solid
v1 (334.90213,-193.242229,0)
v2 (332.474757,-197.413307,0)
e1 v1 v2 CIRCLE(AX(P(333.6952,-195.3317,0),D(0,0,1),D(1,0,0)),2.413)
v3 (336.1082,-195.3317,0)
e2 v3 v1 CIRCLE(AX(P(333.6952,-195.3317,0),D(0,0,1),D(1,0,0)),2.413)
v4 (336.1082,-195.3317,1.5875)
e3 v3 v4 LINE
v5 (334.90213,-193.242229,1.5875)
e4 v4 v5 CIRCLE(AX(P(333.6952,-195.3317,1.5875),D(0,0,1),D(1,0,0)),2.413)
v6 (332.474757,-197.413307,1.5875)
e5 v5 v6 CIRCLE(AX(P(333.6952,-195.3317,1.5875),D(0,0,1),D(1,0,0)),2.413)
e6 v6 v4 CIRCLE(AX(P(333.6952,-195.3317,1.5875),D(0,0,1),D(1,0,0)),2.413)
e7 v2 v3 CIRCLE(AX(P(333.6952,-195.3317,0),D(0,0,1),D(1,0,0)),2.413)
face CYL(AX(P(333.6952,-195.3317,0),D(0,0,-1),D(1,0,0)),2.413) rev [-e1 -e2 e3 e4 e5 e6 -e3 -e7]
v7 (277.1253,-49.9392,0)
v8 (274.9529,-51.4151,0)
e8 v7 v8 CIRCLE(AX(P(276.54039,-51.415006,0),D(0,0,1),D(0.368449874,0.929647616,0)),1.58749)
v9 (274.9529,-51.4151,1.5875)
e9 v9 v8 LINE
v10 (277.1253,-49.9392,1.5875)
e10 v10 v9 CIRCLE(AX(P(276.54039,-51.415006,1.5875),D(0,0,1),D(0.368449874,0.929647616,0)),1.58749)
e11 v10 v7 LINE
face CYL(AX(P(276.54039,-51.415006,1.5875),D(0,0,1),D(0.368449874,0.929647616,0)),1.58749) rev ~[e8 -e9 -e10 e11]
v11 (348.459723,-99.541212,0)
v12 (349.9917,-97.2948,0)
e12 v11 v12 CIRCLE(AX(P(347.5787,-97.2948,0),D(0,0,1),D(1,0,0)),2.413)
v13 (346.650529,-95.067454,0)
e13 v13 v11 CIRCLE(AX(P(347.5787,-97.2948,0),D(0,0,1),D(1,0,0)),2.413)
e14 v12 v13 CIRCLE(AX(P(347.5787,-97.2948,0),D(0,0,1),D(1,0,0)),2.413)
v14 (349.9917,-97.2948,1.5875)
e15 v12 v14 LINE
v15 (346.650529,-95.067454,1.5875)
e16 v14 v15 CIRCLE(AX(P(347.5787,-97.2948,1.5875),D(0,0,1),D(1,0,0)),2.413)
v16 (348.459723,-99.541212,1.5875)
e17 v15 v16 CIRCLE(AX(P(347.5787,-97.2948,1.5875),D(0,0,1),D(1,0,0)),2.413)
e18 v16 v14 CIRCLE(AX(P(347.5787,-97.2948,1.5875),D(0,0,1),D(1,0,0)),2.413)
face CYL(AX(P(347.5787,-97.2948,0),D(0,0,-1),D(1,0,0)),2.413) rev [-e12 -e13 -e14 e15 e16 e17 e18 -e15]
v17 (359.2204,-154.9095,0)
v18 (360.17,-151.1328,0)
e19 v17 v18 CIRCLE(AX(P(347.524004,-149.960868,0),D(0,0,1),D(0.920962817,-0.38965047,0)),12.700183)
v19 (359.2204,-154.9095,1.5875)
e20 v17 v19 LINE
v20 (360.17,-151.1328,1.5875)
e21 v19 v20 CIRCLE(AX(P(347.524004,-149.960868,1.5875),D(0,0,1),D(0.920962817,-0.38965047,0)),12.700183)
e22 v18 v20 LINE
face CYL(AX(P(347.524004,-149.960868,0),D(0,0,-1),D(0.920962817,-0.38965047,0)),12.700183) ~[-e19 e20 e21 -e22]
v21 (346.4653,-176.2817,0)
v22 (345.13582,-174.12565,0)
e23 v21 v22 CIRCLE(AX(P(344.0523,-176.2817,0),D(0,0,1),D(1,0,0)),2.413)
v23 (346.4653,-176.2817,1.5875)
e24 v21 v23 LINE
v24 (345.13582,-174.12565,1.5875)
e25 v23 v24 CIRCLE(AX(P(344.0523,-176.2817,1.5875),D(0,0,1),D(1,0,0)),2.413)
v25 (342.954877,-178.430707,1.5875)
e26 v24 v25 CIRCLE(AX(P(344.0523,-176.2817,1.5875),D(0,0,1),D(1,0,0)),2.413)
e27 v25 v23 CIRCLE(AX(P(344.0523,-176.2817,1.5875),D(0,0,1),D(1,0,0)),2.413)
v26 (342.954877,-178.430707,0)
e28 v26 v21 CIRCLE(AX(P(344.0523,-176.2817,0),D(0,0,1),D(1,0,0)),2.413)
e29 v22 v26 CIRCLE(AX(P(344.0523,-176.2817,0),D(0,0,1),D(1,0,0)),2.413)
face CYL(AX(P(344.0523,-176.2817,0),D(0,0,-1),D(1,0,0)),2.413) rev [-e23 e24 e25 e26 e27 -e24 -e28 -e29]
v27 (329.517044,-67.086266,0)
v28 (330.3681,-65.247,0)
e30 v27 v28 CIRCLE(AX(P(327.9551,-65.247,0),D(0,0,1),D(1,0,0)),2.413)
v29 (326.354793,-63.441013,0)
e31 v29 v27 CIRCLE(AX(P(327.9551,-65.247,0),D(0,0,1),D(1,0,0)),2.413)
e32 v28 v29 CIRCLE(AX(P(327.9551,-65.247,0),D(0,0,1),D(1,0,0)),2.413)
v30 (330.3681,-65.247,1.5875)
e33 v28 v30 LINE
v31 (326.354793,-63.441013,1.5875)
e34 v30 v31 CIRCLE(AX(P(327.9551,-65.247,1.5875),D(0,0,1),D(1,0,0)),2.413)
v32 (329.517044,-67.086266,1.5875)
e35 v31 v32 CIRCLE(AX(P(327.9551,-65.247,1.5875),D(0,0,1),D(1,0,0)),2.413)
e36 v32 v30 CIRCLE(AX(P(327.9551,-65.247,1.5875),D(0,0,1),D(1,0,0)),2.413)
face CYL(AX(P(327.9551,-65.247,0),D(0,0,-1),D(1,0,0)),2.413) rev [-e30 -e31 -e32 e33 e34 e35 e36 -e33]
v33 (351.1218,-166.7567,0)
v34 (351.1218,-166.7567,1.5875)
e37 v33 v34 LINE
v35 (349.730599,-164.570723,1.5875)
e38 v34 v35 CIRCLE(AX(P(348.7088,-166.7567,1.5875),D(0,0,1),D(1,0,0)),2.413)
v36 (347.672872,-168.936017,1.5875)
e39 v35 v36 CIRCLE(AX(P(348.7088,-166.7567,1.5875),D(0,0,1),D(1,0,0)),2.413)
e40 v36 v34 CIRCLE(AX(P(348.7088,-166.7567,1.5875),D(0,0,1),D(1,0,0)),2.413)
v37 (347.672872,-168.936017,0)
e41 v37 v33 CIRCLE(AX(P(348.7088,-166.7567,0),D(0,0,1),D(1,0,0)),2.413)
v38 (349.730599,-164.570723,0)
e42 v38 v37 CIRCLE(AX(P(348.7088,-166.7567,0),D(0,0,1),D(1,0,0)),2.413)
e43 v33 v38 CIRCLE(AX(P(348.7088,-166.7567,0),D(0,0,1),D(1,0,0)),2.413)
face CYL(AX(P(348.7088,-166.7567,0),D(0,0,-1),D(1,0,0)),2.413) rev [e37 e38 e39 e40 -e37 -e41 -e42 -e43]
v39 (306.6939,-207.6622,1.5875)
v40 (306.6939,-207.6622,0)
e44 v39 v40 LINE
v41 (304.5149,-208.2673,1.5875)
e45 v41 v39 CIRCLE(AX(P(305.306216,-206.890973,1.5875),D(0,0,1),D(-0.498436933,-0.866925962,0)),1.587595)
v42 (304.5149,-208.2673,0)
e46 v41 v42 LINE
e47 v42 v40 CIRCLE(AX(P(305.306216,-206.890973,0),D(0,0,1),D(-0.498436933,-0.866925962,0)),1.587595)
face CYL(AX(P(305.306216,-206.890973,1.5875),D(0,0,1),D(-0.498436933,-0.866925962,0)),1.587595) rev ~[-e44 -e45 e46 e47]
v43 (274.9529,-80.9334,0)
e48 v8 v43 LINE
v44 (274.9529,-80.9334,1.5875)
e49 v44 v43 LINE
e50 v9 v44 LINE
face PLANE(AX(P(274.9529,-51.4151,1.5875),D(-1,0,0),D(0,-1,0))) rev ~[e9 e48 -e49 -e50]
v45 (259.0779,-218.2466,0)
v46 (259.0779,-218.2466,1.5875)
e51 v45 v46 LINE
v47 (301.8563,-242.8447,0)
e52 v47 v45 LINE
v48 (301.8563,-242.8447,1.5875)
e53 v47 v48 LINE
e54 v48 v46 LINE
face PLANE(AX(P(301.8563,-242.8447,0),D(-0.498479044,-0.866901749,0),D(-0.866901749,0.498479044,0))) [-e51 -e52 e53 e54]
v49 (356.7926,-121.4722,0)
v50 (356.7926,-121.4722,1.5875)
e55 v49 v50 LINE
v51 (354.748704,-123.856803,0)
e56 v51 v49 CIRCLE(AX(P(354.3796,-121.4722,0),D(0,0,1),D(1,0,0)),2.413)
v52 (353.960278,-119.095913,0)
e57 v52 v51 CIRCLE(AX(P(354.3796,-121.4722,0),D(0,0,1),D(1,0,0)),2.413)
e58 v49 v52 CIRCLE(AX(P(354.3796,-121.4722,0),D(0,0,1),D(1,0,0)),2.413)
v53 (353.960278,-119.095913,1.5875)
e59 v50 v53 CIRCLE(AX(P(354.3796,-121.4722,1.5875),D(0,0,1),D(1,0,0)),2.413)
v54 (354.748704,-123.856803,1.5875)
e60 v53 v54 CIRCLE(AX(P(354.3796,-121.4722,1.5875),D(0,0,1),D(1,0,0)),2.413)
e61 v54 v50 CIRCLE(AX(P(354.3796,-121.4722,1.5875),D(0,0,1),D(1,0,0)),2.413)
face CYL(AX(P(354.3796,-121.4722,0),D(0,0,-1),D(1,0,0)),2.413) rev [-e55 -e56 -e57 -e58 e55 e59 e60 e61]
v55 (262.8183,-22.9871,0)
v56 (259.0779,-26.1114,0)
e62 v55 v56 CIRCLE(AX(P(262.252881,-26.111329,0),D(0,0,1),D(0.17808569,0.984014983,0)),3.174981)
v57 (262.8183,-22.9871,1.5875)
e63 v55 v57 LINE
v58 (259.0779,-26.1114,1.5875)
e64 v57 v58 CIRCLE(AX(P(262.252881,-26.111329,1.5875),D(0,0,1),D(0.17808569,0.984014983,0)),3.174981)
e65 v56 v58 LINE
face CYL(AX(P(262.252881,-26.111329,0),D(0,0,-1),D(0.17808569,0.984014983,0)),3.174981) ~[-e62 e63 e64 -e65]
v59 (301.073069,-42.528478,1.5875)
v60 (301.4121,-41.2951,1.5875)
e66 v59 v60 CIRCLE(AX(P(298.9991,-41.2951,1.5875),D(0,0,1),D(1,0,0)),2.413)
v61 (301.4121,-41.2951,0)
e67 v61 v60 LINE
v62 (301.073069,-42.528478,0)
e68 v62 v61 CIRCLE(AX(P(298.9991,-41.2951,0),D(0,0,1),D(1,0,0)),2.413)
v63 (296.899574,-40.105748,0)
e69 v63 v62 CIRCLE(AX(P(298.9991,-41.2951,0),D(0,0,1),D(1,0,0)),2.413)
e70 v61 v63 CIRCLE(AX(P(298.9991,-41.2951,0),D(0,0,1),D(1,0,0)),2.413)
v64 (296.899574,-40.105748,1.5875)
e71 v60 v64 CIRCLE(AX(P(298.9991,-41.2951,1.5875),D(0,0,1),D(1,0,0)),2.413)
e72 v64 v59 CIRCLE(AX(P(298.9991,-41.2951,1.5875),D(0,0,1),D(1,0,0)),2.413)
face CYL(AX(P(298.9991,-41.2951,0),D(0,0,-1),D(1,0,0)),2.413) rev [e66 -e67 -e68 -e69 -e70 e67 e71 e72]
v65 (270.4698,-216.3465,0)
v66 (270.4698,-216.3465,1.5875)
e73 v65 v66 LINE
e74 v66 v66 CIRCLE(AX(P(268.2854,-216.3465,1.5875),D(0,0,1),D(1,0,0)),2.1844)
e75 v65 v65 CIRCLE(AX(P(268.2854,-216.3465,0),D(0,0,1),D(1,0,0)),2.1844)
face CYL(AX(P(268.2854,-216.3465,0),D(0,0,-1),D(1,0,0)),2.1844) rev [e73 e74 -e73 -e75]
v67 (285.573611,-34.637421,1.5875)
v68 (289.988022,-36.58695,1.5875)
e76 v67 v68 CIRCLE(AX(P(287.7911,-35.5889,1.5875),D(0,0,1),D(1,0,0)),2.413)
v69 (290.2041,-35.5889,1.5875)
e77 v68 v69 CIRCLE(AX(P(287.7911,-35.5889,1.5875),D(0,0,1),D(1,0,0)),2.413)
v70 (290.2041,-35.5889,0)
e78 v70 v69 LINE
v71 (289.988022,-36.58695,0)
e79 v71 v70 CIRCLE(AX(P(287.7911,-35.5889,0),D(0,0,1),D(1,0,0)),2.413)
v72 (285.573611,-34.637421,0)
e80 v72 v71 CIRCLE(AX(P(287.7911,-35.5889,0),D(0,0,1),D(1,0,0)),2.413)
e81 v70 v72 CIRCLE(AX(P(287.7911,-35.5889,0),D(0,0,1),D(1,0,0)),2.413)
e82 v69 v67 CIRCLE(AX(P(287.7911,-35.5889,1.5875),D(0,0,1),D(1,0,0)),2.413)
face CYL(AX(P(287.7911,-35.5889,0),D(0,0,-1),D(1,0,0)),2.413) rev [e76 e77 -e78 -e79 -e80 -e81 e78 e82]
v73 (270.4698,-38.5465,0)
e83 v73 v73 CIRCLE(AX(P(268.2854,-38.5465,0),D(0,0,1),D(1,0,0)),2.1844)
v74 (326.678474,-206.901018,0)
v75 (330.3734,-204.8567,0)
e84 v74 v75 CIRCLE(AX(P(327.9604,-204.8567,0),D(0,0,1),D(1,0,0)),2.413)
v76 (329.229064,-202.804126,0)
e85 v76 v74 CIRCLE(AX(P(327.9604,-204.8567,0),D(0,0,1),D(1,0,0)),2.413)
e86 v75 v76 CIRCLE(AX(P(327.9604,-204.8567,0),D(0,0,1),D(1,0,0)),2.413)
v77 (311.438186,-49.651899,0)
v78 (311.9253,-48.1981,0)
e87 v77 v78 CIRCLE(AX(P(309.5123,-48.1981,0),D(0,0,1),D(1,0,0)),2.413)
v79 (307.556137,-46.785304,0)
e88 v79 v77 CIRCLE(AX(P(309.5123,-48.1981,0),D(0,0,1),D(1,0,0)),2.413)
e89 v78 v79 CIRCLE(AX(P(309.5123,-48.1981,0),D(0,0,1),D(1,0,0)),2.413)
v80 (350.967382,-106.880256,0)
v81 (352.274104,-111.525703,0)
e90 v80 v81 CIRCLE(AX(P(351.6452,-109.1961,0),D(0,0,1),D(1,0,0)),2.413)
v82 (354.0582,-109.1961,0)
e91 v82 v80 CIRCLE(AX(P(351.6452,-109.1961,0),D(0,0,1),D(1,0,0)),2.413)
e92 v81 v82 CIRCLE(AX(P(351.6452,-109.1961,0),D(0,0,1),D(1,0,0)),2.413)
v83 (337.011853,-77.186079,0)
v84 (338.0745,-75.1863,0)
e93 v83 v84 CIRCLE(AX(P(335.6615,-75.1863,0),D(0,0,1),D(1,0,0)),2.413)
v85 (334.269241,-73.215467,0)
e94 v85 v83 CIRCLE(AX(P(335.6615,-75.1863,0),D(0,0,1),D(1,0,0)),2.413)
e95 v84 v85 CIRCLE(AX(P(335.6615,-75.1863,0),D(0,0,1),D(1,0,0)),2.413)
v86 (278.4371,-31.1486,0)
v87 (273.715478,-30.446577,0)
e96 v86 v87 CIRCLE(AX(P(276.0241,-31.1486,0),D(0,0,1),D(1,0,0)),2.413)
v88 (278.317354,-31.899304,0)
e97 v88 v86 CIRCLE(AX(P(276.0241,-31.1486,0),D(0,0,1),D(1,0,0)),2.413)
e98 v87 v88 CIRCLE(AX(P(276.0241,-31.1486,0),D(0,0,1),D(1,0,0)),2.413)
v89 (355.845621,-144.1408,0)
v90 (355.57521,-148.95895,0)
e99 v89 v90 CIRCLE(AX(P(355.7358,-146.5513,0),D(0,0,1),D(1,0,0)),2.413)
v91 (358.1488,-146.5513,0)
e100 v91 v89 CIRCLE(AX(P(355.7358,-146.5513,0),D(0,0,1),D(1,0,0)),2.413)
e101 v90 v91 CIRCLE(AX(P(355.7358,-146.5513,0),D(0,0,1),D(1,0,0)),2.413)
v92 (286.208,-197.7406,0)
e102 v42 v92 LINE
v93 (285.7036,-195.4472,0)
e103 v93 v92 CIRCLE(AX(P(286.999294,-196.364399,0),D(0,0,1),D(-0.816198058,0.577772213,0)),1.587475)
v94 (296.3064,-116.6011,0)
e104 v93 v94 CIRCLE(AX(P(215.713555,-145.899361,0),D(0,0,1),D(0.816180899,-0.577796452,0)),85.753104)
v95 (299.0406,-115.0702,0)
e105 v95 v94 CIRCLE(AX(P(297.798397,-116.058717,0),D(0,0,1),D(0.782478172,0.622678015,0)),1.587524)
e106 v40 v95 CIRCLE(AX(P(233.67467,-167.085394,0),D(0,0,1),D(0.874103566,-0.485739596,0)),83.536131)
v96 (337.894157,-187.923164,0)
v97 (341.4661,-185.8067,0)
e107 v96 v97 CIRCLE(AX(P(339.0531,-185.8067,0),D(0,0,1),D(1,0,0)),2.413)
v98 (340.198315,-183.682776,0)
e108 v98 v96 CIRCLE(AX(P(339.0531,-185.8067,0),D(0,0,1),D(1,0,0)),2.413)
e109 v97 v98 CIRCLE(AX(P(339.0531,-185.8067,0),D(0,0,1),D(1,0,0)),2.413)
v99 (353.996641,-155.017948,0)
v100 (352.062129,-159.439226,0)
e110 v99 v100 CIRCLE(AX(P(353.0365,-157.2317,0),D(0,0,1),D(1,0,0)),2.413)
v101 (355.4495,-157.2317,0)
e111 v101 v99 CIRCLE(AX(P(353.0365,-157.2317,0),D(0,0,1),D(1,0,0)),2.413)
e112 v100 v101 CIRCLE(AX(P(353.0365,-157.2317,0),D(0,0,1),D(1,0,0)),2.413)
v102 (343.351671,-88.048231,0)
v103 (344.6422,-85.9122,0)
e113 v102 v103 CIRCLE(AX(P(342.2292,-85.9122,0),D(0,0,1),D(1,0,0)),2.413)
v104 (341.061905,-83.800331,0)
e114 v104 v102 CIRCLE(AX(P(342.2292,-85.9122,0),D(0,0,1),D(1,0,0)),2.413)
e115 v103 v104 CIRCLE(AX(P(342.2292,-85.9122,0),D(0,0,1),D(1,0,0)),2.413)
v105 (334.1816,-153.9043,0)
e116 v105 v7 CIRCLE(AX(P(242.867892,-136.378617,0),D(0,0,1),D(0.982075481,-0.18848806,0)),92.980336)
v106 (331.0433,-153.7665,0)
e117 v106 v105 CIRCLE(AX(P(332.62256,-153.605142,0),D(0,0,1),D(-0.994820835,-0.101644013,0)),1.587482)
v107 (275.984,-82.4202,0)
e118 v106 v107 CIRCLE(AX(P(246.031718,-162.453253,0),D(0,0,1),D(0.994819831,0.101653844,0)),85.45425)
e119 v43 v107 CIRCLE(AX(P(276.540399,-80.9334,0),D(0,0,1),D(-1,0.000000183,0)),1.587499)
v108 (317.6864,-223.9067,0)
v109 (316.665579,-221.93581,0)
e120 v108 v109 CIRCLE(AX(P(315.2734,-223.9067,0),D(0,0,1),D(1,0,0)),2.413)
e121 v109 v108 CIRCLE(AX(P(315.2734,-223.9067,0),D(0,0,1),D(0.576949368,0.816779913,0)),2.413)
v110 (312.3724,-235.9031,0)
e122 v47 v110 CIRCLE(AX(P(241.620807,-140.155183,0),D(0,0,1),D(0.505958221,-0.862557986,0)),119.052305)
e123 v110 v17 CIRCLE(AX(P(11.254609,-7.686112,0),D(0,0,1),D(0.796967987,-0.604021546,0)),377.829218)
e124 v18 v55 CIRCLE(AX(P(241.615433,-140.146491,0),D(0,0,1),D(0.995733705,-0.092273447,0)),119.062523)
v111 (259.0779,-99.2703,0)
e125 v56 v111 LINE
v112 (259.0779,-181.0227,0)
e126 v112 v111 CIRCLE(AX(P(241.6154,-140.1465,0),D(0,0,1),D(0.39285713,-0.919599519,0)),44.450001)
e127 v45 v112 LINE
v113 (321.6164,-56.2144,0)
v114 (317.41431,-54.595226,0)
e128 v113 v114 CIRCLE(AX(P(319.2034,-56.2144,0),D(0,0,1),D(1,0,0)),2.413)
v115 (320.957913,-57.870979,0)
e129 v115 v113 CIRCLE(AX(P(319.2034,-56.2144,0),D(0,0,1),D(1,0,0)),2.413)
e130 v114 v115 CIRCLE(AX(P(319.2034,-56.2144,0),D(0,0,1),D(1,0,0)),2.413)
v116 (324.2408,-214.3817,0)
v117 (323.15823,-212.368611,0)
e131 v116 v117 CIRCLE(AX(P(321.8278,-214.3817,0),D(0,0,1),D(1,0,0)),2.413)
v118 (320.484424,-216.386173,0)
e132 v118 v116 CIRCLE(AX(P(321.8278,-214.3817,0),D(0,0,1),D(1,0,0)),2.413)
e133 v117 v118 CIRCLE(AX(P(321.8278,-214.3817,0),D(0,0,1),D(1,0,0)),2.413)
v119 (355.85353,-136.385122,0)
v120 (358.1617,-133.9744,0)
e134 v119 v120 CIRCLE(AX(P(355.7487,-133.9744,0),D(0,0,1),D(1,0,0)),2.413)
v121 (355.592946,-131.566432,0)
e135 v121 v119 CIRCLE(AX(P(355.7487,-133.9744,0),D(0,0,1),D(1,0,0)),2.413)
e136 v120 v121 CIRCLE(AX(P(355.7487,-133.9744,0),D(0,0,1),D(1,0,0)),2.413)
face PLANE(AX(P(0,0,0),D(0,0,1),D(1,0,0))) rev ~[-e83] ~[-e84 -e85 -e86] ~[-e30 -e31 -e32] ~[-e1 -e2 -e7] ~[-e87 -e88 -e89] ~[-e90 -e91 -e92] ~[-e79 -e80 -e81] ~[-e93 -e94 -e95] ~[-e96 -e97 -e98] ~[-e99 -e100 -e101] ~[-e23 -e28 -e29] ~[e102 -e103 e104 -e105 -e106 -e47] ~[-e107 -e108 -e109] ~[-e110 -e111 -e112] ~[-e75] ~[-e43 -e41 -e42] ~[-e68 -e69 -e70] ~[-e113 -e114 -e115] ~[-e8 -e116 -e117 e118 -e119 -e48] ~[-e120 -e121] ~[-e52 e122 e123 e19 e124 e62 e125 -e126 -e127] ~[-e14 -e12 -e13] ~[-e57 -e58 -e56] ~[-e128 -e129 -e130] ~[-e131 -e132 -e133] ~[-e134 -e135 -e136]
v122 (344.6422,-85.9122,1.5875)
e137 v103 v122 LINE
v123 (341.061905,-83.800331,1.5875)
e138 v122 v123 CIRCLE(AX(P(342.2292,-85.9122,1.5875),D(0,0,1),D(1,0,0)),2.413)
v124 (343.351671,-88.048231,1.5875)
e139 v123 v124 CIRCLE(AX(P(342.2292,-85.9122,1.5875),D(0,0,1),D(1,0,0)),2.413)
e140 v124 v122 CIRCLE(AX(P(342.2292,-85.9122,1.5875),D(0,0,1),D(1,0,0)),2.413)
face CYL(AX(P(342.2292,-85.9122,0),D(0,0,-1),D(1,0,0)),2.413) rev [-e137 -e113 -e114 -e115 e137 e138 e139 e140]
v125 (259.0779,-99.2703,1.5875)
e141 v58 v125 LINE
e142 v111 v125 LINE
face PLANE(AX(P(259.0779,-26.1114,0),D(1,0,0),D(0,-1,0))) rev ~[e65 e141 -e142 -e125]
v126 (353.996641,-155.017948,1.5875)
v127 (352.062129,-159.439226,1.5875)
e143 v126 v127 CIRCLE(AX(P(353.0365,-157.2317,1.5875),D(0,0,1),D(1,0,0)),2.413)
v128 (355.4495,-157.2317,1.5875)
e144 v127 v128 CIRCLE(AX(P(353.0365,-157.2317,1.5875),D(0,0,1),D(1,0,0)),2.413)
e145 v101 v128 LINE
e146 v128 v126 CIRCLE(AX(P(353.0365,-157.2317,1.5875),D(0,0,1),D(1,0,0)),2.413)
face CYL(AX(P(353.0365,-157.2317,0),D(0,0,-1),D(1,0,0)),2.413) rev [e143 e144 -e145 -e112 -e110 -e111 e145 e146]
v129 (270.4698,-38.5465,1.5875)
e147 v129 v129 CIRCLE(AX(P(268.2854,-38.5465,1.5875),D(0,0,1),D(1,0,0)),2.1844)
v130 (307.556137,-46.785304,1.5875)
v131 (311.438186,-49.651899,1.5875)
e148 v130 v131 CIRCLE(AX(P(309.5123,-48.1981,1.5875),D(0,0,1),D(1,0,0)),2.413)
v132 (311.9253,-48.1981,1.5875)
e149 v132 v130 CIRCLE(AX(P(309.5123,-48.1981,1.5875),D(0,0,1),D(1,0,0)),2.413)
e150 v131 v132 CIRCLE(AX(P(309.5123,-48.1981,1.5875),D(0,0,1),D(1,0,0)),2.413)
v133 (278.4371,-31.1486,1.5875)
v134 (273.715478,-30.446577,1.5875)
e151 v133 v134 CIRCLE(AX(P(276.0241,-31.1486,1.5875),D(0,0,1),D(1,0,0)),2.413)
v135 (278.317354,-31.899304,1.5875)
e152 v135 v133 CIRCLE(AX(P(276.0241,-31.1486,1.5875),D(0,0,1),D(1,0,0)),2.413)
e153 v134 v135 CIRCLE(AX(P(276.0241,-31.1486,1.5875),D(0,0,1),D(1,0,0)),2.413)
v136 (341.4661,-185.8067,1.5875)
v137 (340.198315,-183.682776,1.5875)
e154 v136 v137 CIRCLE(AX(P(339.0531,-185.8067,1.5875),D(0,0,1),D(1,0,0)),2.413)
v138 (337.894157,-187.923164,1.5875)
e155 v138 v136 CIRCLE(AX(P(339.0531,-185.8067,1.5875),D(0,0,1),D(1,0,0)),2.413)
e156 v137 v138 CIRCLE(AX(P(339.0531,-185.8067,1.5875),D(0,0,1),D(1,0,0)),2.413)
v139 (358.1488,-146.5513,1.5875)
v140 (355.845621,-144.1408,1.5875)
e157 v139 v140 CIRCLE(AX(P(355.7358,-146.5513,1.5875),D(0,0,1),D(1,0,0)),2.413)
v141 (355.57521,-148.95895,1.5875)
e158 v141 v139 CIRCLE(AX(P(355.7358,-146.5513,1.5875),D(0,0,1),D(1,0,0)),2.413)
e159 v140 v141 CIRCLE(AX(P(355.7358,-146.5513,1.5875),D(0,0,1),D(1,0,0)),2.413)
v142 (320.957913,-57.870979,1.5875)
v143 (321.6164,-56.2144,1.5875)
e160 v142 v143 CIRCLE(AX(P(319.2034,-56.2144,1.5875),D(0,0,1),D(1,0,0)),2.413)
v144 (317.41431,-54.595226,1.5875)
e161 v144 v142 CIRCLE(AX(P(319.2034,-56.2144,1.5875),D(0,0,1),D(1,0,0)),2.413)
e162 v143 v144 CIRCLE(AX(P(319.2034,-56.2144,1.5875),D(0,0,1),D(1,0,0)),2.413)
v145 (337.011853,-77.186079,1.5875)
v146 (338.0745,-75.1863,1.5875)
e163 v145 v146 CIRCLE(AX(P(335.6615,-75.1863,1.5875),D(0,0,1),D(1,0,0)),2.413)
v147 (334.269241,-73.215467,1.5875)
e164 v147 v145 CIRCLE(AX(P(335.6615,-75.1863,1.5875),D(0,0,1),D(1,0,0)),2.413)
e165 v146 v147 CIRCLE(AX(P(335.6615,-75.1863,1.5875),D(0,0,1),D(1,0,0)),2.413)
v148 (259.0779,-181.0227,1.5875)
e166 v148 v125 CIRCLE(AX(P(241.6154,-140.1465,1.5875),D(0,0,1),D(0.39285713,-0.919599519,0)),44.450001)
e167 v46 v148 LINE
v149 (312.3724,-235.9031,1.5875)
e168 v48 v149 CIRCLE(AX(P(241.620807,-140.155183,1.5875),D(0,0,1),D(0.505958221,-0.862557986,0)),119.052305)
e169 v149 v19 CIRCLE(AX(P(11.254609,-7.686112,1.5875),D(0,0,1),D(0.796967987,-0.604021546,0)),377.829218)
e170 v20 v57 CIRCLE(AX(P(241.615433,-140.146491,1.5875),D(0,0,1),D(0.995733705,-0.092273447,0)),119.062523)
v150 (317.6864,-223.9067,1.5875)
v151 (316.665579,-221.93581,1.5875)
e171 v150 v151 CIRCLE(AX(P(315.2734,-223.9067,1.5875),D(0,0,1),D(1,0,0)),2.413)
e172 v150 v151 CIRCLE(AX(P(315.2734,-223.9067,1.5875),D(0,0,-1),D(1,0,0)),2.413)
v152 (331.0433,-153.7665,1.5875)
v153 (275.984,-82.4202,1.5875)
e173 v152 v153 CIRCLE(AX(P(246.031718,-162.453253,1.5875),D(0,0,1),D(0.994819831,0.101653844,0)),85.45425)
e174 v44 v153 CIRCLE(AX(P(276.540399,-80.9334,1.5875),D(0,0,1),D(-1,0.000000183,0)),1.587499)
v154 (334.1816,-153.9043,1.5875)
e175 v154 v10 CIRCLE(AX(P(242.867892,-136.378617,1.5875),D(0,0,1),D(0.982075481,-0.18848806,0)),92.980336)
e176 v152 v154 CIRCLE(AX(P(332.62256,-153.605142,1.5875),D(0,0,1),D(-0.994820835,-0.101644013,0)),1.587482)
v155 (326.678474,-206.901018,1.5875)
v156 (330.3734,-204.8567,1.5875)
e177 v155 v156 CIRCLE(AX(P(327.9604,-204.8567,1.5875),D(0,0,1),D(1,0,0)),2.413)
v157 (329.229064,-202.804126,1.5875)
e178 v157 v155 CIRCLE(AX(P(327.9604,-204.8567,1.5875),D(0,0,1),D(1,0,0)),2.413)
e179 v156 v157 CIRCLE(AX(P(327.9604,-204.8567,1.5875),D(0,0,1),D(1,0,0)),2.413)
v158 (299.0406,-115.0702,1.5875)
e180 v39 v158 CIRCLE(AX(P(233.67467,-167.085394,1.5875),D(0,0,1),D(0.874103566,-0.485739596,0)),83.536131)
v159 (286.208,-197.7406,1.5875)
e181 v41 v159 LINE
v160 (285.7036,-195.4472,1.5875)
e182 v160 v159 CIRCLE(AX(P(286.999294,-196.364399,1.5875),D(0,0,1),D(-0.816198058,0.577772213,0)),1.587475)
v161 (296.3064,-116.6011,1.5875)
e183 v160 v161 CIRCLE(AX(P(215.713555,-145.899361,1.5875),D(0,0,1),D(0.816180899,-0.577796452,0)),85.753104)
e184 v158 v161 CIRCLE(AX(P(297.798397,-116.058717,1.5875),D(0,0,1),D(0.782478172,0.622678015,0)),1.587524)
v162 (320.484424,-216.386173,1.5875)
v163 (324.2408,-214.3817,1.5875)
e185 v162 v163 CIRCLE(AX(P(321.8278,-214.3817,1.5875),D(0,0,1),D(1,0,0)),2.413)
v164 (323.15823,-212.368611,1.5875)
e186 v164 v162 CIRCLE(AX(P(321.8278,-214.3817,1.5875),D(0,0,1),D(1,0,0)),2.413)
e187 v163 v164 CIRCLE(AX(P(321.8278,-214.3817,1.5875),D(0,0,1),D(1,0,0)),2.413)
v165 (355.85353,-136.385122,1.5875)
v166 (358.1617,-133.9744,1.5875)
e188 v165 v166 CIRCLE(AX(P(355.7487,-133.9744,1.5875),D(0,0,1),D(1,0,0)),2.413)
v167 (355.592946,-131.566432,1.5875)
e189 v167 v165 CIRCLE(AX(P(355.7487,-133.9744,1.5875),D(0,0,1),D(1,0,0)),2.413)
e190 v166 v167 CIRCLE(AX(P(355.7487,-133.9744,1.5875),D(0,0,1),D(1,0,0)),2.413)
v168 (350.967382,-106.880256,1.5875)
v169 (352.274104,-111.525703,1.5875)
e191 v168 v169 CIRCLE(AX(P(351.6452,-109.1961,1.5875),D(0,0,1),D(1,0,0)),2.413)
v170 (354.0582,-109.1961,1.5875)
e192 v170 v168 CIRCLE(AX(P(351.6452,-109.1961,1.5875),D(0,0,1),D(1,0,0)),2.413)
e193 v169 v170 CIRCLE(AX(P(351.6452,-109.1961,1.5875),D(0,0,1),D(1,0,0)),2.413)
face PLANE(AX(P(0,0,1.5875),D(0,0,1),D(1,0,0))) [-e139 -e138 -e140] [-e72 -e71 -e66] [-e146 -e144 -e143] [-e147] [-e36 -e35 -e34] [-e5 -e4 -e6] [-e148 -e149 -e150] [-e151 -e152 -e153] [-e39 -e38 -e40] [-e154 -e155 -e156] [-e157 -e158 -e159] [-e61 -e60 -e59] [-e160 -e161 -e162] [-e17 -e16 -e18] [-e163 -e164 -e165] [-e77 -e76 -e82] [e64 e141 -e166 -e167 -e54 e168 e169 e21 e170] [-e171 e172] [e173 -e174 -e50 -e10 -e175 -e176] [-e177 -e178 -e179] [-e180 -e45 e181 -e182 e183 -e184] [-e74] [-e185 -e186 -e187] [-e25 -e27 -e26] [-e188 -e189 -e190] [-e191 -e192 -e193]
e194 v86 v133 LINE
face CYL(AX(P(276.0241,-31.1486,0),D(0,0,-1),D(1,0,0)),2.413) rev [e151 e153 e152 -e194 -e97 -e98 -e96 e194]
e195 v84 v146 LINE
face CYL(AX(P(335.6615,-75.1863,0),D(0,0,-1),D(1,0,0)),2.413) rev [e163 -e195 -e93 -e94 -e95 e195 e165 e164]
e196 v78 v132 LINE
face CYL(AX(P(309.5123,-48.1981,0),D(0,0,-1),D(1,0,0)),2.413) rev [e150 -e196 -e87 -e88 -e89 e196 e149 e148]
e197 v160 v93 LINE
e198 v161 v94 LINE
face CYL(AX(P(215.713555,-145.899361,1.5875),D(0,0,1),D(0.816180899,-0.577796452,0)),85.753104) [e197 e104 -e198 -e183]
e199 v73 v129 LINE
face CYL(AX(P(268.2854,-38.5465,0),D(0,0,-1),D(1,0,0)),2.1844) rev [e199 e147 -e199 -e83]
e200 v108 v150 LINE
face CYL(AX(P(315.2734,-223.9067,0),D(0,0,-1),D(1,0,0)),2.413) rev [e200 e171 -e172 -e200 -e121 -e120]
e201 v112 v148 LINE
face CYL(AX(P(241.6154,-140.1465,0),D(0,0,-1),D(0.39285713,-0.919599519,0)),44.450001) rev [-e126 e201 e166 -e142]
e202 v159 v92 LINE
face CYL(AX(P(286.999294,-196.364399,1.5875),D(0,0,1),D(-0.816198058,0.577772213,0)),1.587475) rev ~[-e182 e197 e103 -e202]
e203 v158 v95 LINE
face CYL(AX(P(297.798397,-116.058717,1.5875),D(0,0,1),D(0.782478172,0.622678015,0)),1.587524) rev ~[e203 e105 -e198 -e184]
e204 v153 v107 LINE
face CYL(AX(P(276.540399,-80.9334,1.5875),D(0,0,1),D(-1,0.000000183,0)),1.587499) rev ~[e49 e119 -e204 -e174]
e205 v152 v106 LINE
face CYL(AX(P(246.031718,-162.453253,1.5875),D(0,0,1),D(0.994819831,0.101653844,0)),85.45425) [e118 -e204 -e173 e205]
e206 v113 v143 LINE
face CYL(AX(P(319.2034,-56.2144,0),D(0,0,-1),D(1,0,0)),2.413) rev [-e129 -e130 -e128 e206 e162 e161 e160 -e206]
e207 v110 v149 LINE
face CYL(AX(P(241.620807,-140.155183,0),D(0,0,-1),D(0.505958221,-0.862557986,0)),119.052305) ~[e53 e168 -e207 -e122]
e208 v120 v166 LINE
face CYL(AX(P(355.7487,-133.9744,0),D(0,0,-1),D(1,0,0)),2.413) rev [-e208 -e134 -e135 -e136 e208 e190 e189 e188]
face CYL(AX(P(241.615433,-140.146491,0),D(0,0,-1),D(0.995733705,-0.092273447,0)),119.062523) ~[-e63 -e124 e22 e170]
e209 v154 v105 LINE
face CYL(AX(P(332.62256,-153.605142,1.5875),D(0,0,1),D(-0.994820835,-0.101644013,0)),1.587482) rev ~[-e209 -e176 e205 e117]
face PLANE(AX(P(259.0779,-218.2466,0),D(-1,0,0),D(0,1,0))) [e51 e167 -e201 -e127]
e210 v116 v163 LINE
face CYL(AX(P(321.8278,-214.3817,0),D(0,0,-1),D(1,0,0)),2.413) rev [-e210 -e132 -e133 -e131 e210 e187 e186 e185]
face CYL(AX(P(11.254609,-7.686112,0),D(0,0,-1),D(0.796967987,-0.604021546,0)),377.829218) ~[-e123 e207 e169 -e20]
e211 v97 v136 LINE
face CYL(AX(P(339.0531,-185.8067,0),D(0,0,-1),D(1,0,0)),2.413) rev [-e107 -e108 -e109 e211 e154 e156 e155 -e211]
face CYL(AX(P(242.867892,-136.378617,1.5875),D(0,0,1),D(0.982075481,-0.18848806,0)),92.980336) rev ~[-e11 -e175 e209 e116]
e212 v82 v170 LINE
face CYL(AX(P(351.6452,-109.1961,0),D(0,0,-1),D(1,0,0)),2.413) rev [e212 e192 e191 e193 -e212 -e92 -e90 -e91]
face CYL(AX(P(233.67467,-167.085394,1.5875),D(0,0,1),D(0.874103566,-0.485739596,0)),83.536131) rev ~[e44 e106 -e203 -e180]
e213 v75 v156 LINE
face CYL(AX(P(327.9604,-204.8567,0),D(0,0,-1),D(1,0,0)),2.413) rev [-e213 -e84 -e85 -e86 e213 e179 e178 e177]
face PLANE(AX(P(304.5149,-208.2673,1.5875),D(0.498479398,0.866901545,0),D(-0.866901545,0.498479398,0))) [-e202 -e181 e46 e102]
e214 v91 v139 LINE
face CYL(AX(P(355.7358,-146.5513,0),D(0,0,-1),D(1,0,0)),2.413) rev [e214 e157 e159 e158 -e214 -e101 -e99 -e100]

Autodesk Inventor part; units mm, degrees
ref_plane "YZ Plane" through (0, 0, 0) normal (1, 0, 0) x (0, 1, 0)
ref_plane "XZ Plane" through (0, 0, 0) normal (0, 1, 0) x (-1, 0, 0)
ref_plane "XY Plane" through (0, 0, 0) normal (0, 0, 1) x (1, 0, 0)
sketch "Sketch1" plane through (0, 0, 0) normal (0, 0, 1) x (1, 0, 0)
  circle A0 centre (241.6154, -140.1465) radius 2.4638
  arc A1 (259.0779, -181.0227) -> (259.0779, -99.2703) centre (241.6154, -140.1465) ccw
  line L0 (259.0779, -218.2466) -> (259.0779, -181.0227)
  arc A2 (312.3724, -235.9031) -> (359.2204, -154.9095) centre (11.2573, -7.6879) ccw
  arc A3 (359.2204, -154.9095) -> (360.17, -151.1328) centre (347.5241, -149.9609) ccw
  arc A4 (360.17, -151.1328) -> (262.8183, -22.9871) centre (241.6154, -140.1465) ccw
  arc A5 (301.8563, -242.8447) -> (312.3724, -235.9031) centre (241.6154, -140.1465) ccw
  arc A6 (262.8183, -22.9871) -> (259.0779, -26.1114) centre (262.2529, -26.1114) ccw
  line L1 (259.0779, -26.1114) -> (259.0779, -99.2703)
  line L2 (259.0779, -181.0227) -> (259.0779, -218.2466)
  circle A7 centre (268.2854, -38.5465) radius 2.1844
  circle A8 centre (268.2854, -216.3465) radius 2.1844
  arc A9 (308.9934, -232.4758) -> (354.8343, -153.0538) centre (11.2573, -7.6879) ccw
  arc A10 (354.8343, -153.0538) -> (355.4278, -150.6933) centre (347.5241, -149.9609) ccw
  arc A11 (355.4278, -150.6933) -> (263.8404, -28.0281) centre (241.6154, -140.1465) ccw
  circle A12 centre (263.8404, -28.0281) radius 2.413
  circle A13 centre (276.0241, -31.1486) radius 2.413
  circle A14 centre (287.7911, -35.5889) radius 2.413
  circle A15 centre (298.9991, -41.2951) radius 2.413
  circle A16 centre (309.5123, -48.1981) radius 2.413
  circle A17 centre (319.2034, -56.2144) radius 2.413
  circle A18 centre (327.9551, -65.247) radius 2.413
  circle A19 centre (335.6615, -75.1863) radius 2.413
  circle A20 centre (342.2292, -85.9122) radius 2.413
  circle A21 centre (347.5787, -97.2948) radius 2.413
  circle A22 centre (351.6452, -109.1961) radius 2.413
  circle A23 centre (354.3796, -121.4722) radius 2.413
  circle A24 centre (355.7487, -133.9744) radius 2.413
  circle A25 centre (355.7358, -146.5513) radius 2.413
  circle A26 centre (353.0365, -157.2317) radius 2.413
  circle A27 centre (348.7088, -166.7567) radius 2.413
  circle A28 centre (344.0523, -176.2817) radius 2.413
  circle A29 centre (339.0531, -185.8067) radius 2.413
  circle A30 centre (333.6952, -195.3317) radius 2.413
  circle A31 centre (327.9604, -204.8567) radius 2.413
  circle A32 centre (321.8278, -214.3817) radius 2.413
  circle A33 centre (315.2734, -223.9067) radius 2.413
  line L3 (301.8563, -242.8447) -> (259.0779, -218.2466)
  point P0 (259.0779, -22.3716)
  point P1 (295.3179, -246.41)
  dimension "d4" = 88.9
  dimension "d5" = 12.7
  dimension "d7" = 4.3688
  dimension "d8" = 4.7625
  dimension "d9" = 4.826
  dimension "d12" = 82
  dimension "d14" = 4.826
  dimension "d21" = 4.826
  dimension "d22" = 4.826
  dimension "d23" = 4.826
  dimension "d24" = 4.826
  dimension "d25" = 4.826
  dimension "d26" = 4.826
  dimension "d27" = 4.826
  dimension "d28" = 9.525
  dimension "d29" = 9.525
  dimension "d30" = 9.525
  dimension "d31" = 9.525
  dimension "d32" = 9.525
  dimension "d33" = 9.525
  dimension "d34" = 9.525
  dimension "d41" = 177.8
  dimension "d42" = 9.2075
extrude "Extrusion1" add sketch "Sketch1" along normal blind 1.5875 contours A1 L1 A6 A4 A3 A2 A5 L3 L0
sketch "Sketch4" plane through (0, 0, 1.5875) normal (0, 0, 1) x (1, 0, 0)
  point P0 (-212.5628, 245.6595)
sketch "Sketch6" plane through (0, 0, 1.5875) normal (0, 0, 1) x (1, 0, 0)
  circle A0 centre (263.8404, -28.0281) radius 2.413 projected
  point P0 (0, 0)
extrude "Extrusion4" add sketch "Sketch6" against normal blind 1.5875
sketch "Sketch7" plane through (0, 0, 1.5875) normal (0, 0, 1) x (1, 0, 0)
  arc A0 (259.0779, -181.0227) -> (259.0779, -99.2703) centre (241.6154, -140.1465) ccw projected
  arc A1 (360.17, -151.1328) -> (262.8183, -22.9871) centre (241.6154, -140.1465) ccw projected
  arc A2 (359.2204, -154.9095) -> (360.17, -151.1328) centre (347.5241, -149.9609) ccw projected
  arc A3 (312.3724, -235.9031) -> (359.2204, -154.9095) centre (11.2573, -7.6879) ccw projected
  arc A4 (301.8563, -242.8447) -> (312.3724, -235.9031) centre (241.6154, -140.1465) ccw projected
  line L0 (259.0779, -218.2466) -> (301.8563, -242.8447) projected
  line L1 (259.0779, -181.0227) -> (259.0779, -218.2466) projected
  line L2 (259.0779, -26.1114) -> (259.0779, -99.2703) projected
  arc A5 (262.8183, -22.9871) -> (259.0779, -26.1114) centre (262.2529, -26.1114) ccw projected
  arc A6 (306.6939, -207.6622) -> (299.0406, -115.0702) centre (233.6747, -167.0854) ccw
  line L3 (304.5149, -208.2673) -> (286.208, -197.7406)
  arc A7 (285.7036, -195.4472) -> (296.3064, -116.6011) centre (215.7134, -145.8993) ccw
  arc A8 (331.0433, -153.7665) -> (275.984, -82.4202) centre (246.0316, -162.4533) ccw
  arc A9 (334.1816, -153.9043) -> (277.1253, -49.9392) centre (242.868, -136.3786) ccw
  arc A10 (331.0433, -153.7665) -> (334.1816, -153.9043) centre (332.6226, -153.6051) ccw
  arc A11 (299.0406, -115.0702) -> (296.3064, -116.6011) centre (297.7984, -116.0587) ccw
  line L4 (274.9529, -51.4151) -> (274.9529, -80.9334)
  arc A12 (277.1253, -49.9392) -> (274.9529, -51.4151) centre (276.5404, -51.4151) ccw
  arc A13 (274.9529, -80.9334) -> (275.984, -82.4202) centre (276.5404, -80.9334) ccw
  arc A14 (285.7036, -195.4472) -> (286.208, -197.7406) centre (286.9993, -196.3644) ccw
  arc A15 (304.5149, -208.2673) -> (306.6939, -207.6622) centre (305.3062, -206.8911) ccw
  point P0 (0, 0)
  point P1 (305.8979, -209.0626)
  point P2 (284.6802, -196.8621)
  point P3 (274.9529, -82.0418)
  point P4 (274.9529, -49.1096)
  dimension "d51" = 1.5875
  dimension "d52" = 1.5875
extrude "Extrusion5" cut sketch "Sketch7" against normal blind 1.5875 contours A15 L3 A14 A7 A11 A6 | A8 A13 L4 A12 A9 A10
properties part number "TopCurve"
